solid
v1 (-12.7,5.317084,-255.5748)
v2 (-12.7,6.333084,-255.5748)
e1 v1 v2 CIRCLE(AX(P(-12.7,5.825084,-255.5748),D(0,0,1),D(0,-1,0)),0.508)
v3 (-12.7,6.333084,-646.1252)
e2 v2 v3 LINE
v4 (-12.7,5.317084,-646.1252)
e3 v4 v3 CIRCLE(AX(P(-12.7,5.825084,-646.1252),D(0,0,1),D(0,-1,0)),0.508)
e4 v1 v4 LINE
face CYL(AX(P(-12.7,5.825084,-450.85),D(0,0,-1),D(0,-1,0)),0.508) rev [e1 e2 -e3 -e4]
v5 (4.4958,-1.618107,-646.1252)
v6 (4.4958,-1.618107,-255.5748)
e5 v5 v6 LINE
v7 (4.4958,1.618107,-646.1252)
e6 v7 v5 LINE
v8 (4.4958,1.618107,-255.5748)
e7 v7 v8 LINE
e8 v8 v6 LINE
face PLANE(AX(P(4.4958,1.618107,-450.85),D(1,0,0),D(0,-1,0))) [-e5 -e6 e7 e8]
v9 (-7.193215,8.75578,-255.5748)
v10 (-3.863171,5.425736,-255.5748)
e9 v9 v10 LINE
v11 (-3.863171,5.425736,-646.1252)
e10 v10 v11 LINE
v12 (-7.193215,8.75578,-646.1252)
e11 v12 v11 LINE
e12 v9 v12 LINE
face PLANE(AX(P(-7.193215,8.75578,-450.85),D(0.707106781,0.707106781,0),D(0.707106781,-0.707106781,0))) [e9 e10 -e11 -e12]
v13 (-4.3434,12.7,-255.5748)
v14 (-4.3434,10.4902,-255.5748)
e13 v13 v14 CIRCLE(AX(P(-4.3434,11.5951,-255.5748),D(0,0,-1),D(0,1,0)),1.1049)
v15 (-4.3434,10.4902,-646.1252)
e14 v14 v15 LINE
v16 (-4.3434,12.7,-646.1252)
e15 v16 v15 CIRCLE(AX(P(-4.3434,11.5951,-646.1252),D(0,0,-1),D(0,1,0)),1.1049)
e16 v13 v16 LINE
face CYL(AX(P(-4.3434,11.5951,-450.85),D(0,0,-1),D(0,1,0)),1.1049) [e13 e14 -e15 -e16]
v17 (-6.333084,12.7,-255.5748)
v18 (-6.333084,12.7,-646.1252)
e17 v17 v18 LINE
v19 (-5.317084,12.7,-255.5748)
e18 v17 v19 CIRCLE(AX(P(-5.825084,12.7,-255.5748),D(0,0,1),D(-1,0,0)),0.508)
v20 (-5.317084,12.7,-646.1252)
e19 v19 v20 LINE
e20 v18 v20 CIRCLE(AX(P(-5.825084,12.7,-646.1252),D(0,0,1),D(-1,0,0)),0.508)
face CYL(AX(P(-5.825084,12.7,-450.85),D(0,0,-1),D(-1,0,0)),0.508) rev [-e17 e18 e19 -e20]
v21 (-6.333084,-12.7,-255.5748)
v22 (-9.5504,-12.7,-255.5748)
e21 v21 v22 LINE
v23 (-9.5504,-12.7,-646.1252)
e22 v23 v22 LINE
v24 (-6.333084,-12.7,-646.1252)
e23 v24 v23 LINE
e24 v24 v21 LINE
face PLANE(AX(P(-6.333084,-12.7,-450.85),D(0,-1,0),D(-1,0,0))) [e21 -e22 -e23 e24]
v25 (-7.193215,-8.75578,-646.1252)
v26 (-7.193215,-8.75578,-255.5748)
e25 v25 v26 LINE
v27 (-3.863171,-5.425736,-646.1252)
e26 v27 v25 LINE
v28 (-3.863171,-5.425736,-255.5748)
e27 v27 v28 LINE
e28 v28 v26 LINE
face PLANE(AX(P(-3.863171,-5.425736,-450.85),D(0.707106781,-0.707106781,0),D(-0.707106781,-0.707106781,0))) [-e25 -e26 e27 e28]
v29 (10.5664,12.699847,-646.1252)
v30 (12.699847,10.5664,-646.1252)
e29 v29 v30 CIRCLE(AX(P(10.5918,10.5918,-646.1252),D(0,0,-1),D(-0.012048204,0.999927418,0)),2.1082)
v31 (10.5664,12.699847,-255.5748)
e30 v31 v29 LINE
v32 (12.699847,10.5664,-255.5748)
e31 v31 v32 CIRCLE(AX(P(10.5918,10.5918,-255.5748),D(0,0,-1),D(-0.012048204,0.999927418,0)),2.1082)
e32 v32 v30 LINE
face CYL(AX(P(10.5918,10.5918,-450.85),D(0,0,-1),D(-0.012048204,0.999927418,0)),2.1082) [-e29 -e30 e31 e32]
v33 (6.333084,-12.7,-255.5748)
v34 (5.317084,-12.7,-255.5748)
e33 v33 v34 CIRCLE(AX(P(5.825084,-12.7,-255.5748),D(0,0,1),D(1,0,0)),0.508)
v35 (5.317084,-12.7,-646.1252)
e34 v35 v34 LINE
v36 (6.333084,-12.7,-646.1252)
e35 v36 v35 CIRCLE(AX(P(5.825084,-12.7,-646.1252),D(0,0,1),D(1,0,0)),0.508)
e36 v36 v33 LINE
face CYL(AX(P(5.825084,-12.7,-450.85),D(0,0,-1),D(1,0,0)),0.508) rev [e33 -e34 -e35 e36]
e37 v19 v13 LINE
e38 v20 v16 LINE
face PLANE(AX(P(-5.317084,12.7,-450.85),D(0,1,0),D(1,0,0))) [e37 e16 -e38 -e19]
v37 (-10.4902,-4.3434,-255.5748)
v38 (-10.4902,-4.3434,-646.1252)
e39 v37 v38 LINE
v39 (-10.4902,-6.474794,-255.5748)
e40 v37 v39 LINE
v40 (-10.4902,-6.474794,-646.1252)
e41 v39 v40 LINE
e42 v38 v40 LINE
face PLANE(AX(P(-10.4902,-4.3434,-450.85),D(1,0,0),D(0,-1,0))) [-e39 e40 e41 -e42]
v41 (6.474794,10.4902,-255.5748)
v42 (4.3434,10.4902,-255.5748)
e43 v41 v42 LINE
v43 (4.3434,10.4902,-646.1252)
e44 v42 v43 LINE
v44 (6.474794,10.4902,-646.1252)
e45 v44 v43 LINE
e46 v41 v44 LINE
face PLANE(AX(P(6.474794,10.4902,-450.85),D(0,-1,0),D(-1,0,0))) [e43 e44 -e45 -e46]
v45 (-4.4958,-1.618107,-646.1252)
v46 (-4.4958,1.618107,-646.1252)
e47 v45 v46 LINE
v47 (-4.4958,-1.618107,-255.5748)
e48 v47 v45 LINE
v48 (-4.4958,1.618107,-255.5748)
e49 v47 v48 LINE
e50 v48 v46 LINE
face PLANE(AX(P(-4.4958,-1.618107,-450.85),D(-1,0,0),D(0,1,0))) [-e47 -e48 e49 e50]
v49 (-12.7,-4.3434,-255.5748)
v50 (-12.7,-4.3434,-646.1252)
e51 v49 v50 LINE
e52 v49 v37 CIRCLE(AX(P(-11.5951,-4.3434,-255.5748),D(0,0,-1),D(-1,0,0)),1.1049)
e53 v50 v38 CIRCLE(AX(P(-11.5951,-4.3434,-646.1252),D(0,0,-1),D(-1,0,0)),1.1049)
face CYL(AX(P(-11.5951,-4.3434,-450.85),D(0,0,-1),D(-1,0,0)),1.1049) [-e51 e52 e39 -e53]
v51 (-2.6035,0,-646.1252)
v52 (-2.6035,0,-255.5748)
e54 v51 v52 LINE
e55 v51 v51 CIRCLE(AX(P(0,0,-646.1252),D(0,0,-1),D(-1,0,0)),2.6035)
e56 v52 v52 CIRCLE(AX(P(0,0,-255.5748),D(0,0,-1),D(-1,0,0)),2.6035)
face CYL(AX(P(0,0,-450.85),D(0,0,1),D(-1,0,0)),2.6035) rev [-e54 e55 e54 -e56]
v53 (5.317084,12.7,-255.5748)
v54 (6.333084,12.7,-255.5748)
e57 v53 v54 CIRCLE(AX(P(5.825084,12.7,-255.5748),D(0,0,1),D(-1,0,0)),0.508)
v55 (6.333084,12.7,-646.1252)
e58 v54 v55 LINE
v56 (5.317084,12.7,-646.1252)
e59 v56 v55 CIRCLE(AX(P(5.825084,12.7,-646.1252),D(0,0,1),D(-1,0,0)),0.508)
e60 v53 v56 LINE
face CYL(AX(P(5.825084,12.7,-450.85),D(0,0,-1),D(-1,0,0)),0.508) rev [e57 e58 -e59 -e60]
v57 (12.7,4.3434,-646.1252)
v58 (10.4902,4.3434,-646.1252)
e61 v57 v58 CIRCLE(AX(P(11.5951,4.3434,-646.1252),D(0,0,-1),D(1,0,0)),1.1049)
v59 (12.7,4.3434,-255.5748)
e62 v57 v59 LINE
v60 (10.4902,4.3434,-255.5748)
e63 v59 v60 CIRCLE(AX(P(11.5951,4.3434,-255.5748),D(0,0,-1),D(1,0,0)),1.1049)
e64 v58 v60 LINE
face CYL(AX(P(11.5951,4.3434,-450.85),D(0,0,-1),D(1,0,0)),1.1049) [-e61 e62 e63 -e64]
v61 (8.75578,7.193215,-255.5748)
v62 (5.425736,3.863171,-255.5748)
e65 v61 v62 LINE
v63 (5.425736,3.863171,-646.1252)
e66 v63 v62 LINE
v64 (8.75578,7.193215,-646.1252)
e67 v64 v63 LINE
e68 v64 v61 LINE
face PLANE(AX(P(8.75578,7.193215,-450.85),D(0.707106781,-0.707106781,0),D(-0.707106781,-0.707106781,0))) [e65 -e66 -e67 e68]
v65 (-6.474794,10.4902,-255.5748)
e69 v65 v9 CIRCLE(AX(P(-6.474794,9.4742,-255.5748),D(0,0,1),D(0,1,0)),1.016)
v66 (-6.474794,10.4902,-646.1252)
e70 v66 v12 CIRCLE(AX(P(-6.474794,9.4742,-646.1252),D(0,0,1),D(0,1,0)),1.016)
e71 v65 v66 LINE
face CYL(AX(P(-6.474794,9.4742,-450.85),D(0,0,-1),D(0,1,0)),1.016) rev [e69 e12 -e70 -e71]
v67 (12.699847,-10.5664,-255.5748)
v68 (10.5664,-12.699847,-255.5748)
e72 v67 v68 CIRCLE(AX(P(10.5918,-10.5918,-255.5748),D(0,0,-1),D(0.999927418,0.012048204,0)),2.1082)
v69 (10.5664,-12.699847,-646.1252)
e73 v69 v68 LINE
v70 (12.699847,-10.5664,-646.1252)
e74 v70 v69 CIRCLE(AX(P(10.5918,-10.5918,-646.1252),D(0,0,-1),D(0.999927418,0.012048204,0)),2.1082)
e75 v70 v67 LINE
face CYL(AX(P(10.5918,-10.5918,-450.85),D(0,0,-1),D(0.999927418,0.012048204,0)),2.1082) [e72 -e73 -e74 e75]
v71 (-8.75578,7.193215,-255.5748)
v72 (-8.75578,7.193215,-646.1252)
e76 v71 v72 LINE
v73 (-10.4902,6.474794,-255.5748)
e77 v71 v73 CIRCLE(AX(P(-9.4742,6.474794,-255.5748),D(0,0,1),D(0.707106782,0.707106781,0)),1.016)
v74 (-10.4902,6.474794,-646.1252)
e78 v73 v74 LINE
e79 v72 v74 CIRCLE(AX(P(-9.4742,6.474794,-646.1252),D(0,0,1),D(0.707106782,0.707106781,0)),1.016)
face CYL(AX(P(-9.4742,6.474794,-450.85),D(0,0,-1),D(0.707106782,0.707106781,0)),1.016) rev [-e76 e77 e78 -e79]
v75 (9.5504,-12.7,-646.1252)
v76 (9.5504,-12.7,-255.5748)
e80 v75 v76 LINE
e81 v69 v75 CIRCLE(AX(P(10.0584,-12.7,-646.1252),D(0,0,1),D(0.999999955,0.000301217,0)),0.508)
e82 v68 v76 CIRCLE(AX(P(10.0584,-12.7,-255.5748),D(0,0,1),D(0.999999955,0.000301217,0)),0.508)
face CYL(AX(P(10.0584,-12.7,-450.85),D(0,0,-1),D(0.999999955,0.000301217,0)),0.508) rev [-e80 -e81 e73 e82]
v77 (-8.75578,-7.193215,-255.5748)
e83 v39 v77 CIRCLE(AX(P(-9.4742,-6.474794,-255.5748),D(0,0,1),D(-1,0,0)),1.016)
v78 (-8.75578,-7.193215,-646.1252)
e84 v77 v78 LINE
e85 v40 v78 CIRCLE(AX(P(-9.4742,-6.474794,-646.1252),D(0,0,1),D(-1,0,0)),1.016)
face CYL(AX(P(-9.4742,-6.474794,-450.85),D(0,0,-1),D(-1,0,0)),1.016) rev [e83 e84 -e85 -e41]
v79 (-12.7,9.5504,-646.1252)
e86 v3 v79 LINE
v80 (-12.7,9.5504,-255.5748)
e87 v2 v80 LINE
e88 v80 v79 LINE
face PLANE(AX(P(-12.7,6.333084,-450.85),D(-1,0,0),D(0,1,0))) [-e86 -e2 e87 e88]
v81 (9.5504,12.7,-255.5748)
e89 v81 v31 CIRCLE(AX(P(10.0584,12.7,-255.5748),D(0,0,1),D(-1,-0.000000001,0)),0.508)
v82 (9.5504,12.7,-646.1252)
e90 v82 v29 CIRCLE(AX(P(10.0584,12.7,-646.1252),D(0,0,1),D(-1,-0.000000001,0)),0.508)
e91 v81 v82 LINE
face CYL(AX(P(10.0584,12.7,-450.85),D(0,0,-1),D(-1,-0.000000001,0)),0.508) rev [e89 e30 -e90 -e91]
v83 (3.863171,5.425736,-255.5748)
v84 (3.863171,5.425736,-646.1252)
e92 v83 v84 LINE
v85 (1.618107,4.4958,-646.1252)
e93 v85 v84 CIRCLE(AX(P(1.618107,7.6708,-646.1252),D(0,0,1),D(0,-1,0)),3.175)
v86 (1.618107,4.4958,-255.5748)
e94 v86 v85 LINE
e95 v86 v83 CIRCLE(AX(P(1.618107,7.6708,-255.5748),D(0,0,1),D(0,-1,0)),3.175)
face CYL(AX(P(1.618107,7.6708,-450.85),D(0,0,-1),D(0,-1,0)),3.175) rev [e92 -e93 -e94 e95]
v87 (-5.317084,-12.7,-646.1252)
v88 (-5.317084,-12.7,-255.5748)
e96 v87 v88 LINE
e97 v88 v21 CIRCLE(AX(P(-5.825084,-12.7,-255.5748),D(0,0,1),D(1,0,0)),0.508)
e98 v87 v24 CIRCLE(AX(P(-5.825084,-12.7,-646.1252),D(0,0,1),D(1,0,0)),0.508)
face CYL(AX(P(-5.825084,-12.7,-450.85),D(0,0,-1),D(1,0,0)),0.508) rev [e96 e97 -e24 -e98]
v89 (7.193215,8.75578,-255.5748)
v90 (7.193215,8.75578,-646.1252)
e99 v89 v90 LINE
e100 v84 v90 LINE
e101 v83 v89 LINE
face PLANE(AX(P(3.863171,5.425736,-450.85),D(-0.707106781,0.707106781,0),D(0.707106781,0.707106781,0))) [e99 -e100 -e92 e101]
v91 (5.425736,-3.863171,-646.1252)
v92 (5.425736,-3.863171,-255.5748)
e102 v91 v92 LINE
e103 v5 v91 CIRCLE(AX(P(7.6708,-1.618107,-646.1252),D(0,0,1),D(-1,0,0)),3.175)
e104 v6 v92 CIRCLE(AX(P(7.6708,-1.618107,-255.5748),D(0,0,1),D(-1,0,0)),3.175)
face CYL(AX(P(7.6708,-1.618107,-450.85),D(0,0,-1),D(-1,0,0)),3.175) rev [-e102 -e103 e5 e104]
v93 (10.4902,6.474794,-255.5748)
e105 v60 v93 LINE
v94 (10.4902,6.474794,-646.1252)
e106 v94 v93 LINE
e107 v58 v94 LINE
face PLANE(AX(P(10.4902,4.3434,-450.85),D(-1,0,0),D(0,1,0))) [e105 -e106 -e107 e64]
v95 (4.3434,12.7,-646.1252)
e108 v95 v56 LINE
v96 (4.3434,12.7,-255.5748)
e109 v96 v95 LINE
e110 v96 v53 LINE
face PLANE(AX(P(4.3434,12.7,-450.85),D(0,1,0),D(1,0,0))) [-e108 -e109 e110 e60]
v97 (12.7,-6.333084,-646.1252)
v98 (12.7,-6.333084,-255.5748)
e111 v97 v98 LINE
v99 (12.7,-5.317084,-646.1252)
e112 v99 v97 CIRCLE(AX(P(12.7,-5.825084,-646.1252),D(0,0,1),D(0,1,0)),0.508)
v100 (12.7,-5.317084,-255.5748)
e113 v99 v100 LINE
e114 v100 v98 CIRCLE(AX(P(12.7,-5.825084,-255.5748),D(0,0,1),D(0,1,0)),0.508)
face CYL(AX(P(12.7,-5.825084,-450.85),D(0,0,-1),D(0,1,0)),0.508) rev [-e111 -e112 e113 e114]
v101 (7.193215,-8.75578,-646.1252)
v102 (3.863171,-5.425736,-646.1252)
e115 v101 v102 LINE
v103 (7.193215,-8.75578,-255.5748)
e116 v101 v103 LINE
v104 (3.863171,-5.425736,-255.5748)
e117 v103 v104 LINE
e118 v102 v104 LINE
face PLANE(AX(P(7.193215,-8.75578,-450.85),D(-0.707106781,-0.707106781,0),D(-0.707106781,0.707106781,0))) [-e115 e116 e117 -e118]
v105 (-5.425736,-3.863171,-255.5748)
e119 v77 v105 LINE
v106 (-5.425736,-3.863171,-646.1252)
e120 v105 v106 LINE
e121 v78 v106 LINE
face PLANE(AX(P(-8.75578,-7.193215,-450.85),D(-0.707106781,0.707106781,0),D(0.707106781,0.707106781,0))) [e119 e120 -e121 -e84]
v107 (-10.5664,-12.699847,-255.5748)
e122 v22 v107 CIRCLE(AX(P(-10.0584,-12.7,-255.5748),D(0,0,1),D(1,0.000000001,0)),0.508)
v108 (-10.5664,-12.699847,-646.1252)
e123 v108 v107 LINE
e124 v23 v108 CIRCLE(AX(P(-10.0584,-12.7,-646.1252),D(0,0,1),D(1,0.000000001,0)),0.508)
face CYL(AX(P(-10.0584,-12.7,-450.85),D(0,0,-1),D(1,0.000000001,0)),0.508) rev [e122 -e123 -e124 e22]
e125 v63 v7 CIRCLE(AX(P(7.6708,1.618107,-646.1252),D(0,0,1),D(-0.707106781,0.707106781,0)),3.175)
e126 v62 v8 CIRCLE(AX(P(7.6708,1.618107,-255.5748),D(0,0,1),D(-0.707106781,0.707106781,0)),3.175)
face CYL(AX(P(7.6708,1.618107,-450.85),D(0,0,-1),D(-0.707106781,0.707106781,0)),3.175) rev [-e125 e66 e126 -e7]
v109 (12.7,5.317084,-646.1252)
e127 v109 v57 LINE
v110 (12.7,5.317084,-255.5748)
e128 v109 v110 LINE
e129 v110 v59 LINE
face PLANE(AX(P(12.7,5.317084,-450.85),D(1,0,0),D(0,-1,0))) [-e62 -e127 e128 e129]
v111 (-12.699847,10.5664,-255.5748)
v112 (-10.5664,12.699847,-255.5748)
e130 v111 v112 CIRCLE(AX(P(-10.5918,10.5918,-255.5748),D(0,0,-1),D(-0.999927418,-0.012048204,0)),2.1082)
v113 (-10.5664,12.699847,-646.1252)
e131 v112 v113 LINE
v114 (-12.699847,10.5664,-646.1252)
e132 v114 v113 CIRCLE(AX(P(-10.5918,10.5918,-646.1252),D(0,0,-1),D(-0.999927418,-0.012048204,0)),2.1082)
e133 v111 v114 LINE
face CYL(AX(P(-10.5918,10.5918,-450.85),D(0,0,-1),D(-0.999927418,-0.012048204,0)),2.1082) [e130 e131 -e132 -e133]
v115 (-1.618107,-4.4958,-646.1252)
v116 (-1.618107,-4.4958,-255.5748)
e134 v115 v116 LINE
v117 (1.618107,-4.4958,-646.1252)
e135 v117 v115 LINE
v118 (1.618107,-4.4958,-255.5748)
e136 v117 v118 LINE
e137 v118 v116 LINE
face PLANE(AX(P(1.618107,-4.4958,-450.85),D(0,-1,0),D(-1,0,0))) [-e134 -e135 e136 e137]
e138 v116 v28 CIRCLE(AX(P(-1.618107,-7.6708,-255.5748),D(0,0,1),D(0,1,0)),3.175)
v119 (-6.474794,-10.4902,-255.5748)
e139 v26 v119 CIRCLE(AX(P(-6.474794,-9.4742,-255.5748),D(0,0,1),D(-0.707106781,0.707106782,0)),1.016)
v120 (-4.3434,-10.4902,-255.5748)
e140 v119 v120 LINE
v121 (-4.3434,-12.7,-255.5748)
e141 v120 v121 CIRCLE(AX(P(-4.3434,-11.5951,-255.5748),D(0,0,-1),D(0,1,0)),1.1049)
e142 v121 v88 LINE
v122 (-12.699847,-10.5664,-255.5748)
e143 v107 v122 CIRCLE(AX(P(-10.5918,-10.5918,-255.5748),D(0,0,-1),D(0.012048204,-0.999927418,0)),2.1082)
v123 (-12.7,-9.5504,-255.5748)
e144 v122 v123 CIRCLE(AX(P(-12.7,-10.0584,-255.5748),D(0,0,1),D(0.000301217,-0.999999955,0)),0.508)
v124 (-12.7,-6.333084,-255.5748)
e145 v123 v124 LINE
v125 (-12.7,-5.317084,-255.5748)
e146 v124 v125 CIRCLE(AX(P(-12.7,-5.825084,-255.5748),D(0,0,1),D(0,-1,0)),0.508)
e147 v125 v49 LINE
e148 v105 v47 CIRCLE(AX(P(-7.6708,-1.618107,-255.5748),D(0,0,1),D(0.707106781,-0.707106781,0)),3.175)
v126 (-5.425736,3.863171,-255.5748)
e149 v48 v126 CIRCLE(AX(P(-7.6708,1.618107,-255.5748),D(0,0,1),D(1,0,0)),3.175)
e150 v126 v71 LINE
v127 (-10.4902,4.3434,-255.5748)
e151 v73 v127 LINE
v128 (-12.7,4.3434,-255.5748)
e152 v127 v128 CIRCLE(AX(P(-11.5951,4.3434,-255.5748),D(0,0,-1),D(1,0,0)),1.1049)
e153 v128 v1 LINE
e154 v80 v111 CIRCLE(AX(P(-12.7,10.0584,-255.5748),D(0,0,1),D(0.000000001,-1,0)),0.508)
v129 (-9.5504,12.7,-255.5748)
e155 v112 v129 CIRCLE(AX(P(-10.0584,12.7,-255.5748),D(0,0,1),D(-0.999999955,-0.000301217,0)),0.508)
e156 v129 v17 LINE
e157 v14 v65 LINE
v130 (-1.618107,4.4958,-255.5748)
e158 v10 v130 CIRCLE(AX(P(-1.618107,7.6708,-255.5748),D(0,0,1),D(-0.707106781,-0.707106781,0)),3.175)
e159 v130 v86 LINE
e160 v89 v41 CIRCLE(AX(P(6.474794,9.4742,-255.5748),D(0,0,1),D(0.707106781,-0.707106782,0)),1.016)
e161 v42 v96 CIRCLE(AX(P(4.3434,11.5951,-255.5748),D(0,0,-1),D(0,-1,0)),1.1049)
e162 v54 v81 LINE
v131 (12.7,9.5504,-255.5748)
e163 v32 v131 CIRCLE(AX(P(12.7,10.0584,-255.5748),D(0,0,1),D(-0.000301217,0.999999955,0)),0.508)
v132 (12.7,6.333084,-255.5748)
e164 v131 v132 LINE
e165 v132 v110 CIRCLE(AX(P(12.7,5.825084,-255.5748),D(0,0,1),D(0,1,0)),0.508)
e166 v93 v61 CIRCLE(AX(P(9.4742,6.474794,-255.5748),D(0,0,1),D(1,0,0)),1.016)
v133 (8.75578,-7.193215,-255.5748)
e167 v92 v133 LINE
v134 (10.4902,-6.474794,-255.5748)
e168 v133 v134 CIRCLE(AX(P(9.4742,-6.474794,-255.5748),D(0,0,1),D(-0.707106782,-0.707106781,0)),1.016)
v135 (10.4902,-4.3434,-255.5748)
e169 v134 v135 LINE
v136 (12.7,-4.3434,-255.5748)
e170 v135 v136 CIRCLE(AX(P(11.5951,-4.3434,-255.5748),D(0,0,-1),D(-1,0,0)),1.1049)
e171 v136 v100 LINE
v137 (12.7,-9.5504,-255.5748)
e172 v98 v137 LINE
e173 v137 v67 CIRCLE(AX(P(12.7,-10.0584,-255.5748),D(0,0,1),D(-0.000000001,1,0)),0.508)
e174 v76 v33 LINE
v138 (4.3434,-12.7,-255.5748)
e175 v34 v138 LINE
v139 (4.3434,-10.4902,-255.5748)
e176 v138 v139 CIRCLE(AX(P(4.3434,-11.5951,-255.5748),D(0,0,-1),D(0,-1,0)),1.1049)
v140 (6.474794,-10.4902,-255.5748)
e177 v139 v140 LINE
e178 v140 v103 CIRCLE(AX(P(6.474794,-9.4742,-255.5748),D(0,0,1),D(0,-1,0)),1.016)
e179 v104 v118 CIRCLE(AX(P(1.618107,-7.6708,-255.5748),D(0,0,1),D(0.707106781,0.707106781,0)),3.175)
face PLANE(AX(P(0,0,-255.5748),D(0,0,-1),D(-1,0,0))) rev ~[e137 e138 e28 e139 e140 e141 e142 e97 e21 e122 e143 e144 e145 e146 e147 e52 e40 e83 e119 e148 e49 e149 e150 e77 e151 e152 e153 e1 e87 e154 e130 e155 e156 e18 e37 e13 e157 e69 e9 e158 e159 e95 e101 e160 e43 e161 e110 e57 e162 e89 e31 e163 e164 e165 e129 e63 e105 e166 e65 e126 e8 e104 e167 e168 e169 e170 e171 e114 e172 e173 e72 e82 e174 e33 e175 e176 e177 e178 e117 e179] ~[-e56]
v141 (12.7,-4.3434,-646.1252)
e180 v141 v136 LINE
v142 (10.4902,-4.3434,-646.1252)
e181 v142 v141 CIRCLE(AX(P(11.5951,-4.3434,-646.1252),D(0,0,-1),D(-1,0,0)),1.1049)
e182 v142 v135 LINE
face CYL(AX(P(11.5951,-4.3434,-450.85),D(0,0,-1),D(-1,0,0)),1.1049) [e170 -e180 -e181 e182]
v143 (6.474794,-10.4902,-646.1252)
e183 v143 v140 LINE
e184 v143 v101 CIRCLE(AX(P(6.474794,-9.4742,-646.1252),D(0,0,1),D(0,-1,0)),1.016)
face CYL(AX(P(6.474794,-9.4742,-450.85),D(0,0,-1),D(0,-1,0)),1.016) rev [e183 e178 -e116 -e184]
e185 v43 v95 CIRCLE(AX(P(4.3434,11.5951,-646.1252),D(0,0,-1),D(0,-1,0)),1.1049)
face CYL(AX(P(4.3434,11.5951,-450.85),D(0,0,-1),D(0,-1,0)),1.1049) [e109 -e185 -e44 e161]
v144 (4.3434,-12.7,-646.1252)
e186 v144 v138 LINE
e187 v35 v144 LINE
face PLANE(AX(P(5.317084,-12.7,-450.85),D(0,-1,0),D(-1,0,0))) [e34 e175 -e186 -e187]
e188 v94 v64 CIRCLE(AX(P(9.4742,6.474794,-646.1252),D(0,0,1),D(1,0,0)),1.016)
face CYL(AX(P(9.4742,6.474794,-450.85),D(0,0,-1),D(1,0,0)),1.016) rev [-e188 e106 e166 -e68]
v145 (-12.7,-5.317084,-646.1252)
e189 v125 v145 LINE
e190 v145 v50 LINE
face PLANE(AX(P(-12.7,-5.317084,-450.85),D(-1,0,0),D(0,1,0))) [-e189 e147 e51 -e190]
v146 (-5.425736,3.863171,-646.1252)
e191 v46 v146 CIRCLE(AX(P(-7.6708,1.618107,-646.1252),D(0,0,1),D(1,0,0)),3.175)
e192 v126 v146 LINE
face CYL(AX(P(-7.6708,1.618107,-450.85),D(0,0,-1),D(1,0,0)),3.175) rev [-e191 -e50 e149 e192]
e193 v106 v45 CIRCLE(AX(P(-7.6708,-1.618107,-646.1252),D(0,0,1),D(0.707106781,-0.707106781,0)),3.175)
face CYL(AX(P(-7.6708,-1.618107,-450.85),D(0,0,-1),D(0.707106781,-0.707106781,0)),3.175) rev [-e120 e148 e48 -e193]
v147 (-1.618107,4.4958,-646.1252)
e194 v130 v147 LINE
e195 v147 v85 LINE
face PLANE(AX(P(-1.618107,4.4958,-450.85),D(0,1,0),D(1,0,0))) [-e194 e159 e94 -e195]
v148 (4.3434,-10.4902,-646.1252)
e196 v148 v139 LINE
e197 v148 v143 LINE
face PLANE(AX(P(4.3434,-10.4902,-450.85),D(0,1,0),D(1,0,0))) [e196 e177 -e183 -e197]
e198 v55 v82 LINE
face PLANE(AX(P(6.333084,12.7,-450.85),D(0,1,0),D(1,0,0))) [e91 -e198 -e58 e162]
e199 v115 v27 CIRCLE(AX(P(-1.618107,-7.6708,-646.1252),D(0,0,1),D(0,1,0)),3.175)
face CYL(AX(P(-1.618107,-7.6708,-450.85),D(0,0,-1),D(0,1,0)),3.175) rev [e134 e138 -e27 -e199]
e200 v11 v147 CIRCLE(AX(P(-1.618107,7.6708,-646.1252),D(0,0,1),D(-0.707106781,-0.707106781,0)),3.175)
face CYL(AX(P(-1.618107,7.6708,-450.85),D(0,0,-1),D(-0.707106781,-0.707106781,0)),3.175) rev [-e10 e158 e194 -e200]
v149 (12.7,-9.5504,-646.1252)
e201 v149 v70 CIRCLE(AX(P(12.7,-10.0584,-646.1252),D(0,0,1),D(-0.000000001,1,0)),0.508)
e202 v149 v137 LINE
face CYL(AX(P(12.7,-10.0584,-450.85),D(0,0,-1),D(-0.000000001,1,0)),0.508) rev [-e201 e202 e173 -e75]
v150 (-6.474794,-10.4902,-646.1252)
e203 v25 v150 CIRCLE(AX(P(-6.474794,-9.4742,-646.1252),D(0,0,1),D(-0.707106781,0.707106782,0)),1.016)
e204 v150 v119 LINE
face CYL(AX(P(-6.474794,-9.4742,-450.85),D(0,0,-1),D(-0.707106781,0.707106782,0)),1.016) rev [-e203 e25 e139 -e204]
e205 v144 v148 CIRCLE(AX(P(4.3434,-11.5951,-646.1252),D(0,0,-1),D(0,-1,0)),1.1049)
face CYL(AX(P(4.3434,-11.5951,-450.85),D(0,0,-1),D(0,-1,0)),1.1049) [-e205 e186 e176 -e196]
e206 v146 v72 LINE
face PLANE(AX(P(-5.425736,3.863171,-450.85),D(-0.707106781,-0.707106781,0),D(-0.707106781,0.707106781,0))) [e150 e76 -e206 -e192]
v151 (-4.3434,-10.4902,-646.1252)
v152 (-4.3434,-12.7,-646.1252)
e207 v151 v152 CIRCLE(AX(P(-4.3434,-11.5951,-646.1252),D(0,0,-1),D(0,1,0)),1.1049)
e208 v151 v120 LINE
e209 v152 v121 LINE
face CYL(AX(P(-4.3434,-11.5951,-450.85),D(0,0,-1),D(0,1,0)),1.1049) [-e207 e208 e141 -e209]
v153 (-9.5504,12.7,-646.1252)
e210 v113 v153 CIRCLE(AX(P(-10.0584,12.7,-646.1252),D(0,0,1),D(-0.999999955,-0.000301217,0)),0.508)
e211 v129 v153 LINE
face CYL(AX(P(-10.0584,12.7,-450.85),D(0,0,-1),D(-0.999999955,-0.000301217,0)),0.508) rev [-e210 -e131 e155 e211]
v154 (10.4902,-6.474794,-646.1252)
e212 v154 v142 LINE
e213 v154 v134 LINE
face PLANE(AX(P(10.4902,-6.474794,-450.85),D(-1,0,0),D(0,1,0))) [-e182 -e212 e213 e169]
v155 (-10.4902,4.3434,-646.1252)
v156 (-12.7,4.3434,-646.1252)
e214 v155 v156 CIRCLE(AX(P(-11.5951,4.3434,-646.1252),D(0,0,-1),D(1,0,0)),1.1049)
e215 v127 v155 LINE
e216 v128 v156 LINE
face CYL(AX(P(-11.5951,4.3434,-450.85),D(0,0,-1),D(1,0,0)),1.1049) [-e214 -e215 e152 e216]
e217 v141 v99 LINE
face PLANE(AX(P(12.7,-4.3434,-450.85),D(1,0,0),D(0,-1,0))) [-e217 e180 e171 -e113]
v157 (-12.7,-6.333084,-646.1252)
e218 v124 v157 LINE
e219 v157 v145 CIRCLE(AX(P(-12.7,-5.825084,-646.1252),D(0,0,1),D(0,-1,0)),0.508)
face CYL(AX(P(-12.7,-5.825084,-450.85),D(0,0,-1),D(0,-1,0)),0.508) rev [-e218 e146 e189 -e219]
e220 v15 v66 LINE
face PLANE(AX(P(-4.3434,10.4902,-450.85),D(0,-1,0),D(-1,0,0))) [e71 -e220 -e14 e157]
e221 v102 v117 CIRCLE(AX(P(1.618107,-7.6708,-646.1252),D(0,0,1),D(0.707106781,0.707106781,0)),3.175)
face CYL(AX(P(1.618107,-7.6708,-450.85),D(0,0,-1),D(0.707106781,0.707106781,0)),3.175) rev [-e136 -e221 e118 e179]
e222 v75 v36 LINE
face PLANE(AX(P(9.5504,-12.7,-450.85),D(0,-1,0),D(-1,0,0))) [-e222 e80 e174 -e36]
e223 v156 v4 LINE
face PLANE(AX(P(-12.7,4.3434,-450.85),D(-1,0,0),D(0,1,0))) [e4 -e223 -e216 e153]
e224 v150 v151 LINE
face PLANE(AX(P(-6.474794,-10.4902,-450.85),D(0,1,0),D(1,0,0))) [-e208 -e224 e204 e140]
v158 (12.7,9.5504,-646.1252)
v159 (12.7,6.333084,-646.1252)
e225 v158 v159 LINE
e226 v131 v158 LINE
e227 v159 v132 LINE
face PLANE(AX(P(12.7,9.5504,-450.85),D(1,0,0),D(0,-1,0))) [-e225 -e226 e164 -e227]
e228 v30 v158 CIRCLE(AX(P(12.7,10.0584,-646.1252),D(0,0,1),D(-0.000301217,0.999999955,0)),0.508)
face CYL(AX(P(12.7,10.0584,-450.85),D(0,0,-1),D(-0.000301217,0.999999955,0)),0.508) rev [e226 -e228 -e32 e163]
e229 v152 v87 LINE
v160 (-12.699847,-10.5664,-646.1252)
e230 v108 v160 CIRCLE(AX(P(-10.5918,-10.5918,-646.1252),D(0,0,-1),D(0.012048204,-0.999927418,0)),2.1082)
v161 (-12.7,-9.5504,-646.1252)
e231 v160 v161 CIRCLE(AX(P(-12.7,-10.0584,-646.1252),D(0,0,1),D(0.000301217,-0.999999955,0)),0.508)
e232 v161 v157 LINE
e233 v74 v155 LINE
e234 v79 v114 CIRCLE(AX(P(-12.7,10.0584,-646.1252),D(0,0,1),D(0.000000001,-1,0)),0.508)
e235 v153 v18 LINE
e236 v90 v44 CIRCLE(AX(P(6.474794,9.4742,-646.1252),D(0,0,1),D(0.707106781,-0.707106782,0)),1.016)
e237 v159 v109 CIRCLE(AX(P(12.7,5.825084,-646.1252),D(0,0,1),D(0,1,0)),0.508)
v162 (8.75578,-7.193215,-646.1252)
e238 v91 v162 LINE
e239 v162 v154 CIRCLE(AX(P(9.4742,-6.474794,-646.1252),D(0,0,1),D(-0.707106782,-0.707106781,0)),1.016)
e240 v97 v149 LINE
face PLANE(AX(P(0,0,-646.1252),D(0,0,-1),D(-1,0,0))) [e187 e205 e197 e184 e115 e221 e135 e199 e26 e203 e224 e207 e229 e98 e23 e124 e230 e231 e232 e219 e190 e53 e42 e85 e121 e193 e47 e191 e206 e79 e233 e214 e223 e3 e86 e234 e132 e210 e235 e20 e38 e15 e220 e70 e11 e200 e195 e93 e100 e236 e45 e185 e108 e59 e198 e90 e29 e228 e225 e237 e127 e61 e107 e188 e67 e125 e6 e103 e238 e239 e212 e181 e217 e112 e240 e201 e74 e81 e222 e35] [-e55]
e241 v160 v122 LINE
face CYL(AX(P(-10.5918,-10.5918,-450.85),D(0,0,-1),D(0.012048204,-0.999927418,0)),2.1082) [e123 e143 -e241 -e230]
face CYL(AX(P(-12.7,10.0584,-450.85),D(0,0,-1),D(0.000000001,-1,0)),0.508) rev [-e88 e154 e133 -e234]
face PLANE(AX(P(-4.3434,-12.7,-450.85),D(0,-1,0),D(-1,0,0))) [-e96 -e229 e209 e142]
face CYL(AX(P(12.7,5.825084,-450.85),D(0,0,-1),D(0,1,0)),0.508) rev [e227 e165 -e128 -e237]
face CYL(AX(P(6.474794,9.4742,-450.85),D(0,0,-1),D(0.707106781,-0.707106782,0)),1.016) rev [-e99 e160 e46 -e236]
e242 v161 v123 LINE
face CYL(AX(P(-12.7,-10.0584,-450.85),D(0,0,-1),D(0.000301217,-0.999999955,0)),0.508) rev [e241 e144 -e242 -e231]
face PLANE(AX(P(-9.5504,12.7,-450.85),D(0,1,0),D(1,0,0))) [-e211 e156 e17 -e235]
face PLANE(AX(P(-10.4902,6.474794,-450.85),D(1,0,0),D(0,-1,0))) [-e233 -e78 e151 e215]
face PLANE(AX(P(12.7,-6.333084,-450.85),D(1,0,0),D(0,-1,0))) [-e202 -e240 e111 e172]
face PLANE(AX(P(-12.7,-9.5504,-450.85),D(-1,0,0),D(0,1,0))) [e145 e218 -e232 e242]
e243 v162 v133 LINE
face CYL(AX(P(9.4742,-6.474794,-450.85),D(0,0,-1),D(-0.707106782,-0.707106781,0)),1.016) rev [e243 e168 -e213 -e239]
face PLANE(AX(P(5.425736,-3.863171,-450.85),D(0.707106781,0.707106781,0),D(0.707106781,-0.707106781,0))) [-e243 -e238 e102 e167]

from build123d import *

# Parameters (mm, degrees)
SKETCH1_R           = 2.6035
BOSS_EXTRUDE1_DEPTH = 195.2752


with BuildPart() as part:
    # Sketch1 → Boss-Extrude1 (new body, symmetric)
    with BuildSketch(Plane(origin=(0, 0, -450.85), x_dir=(-1, 0, 0), z_dir=(0, 0, -1))):
        with BuildLine():
            Line((12.7, -9.5504), (12.7, -6.3330836))
            ThreePointArc((12.7, -6.3330836), (12.192, -5.8250836), (12.7, -5.3170836))
            Line((12.7, -5.3170836), (12.7, -4.3434))
            ThreePointArc((12.7, -4.3434), (11.5951, -3.2385), (10.4902, -4.3434))
            Line((10.4902, -4.3434), (10.4902, -6.474794456))
            ThreePointArc((10.4902, -6.474794456), (9.863006367, -7.413456061), (8.75577951, -7.193214945))
            Line((8.75577951, -7.193214945), (5.42573597, -3.863171405))
            ThreePointArc((5.42573597, -3.863171405), (4.737482484, -2.833127272), (4.4958, -1.618107374))
            Line((4.4958, -1.618107374), (4.4958, 1.618107374))
            ThreePointArc((4.4958, 1.618107374), (4.737482484, 2.833127272), (5.42573597, 3.863171405))
            Line((5.42573597, 3.863171405), (8.75577951, 7.193214945))
            ThreePointArc((8.75577951, 7.193214945), (9.863006367, 7.413456061), (10.4902, 6.474794456))
            Line((10.4902, 6.474794456), (10.4902, 4.343399971))
            ThreePointArc((10.4902, 4.343399971), (11.5951, 3.238499971), (12.7, 4.343399971))
            Line((12.7, 4.343399971), (12.7, 5.3170836))
            ThreePointArc((12.7, 5.3170836), (12.192, 5.8250836), (12.7, 6.3330836))
            Line((12.7, 6.3330836), (12.7, 9.5504))
            ThreePointArc((12.7, 9.5504), (12.192000006, 10.058323491), (12.699846982, 10.566399977))
            ThreePointArc((12.699846982, 10.566399977), (12.082522516, 12.082522516), (10.566399977, 12.699846982))
            ThreePointArc((10.566399977, 12.699846982), (10.058323491, 12.192000006), (9.5504, 12.7))
            Line((9.5504, 12.7), (6.3330836, 12.7))
            ThreePointArc((6.3330836, 12.7), (5.8250836, 12.192), (5.3170836, 12.7))
            Line((5.3170836, 12.7), (4.3434, 12.7))
            ThreePointArc((4.3434, 12.7), (3.2385, 11.5951), (4.3434, 10.4902))
            Line((4.3434, 10.4902), (6.474794456, 10.4902))
            ThreePointArc((6.474794456, 10.4902), (7.413456061, 9.863006367), (7.193214945, 8.75577951))
            Line((7.193214945, 8.75577951), (3.863171405, 5.42573597))
            ThreePointArc((3.863171405, 5.42573597), (2.833127272, 4.737482484), (1.618107374, 4.4958))
            Line((1.618107374, 4.4958), (-1.618107374, 4.4958))
            ThreePointArc((-1.618107374, 4.4958), (-2.833127272, 4.737482484), (-3.863171405, 5.42573597))
            Line((-3.863171405, 5.42573597), (-7.193214945, 8.75577951))
            ThreePointArc((-7.193214945, 8.75577951), (-7.413456061, 9.863006367), (-6.474794456, 10.4902))
            Line((-6.474794456, 10.4902), (-4.343399971, 10.4902))
            ThreePointArc((-4.343399971, 10.4902), (-3.238499971, 11.5951), (-4.343399971, 12.7))
            Line((-4.343399971, 12.7), (-5.3170836, 12.7))
            ThreePointArc((-5.3170836, 12.7), (-5.8250836, 12.192), (-6.3330836, 12.7))
            Line((-6.3330836, 12.7), (-9.5504, 12.7))
            ThreePointArc((-9.5504, 12.7), (-10.058323491, 12.192000006), (-10.566399977, 12.699846982))
            ThreePointArc((-10.566399977, 12.699846982), (-12.082522516, 12.082522516), (-12.699846982, 10.566399977))
            ThreePointArc((-12.699846982, 10.566399977), (-12.192000006, 10.058323491), (-12.7, 9.5504))
            Line((-12.7, 9.5504), (-12.7, 6.3330836))
            ThreePointArc((-12.7, 6.3330836), (-12.192, 5.8250836), (-12.7, 5.3170836))
            Line((-12.7, 5.3170836), (-12.7, 4.3434))
            ThreePointArc((-12.7, 4.3434), (-11.5951, 3.2385), (-10.4902, 4.3434))
            Line((-10.4902, 4.3434), (-10.4902, 6.474794456))
            ThreePointArc((-10.4902, 6.474794456), (-9.863006367, 7.413456061), (-8.75577951, 7.193214945))
            Line((-8.75577951, 7.193214945), (-5.42573597, 3.863171405))
            ThreePointArc((-5.42573597, 3.863171405), (-4.737482484, 2.833127272), (-4.4958, 1.618107374))
            Line((-4.4958, 1.618107374), (-4.4958, -1.618107374))
            ThreePointArc((-4.4958, -1.618107374), (-4.737482484, -2.833127272), (-5.42573597, -3.863171405))
            Line((-5.42573597, -3.863171405), (-8.75577951, -7.193214945))
            ThreePointArc((-8.75577951, -7.193214945), (-9.863006367, -7.413456061), (-10.4902, -6.474794456))
            Line((-10.4902, -6.474794456), (-10.4902, -4.343399971))
            ThreePointArc((-10.4902, -4.343399971), (-11.5951, -3.238499971), (-12.7, -4.343399971))
            Line((-12.7, -4.343399971), (-12.7, -5.3170836))
            ThreePointArc((-12.7, -5.3170836), (-12.192, -5.8250836), (-12.7, -6.3330836))
            Line((-12.7, -6.3330836), (-12.7, -9.5504))
            ThreePointArc((-12.7, -9.5504), (-12.192000006, -10.058323491), (-12.699846982, -10.566399977))
            ThreePointArc((-12.699846982, -10.566399977), (-12.082522516, -12.082522516), (-10.566399977, -12.699846982))
            ThreePointArc((-10.566399977, -12.699846982), (-10.058323491, -12.192000006), (-9.5504, -12.7))
            Line((-9.5504, -12.7), (-6.3330836, -12.7))
            ThreePointArc((-6.3330836, -12.7), (-5.8250836, -12.192), (-5.3170836, -12.7))
            Line((-5.3170836, -12.7), (-4.3434, -12.7))
            ThreePointArc((-4.3434, -12.7), (-3.2385, -11.5951), (-4.3434, -10.4902))
            Line((-4.3434, -10.4902), (-6.474794456, -10.4902))
            ThreePointArc((-6.474794456, -10.4902), (-7.413456061, -9.863006367), (-7.193214945, -8.75577951))
            Line((-7.193214945, -8.75577951), (-3.863171405, -5.42573597))
            ThreePointArc((-3.863171405, -5.42573597), (-2.833127272, -4.737482484), (-1.618107374, -4.4958))
            Line((-1.618107374, -4.4958), (1.618107374, -4.4958))
            ThreePointArc((1.618107374, -4.4958), (2.833127272, -4.737482484), (3.863171405, -5.42573597))
            Line((3.863171405, -5.42573597), (7.193214945, -8.75577951))
            ThreePointArc((7.193214945, -8.75577951), (7.413456061, -9.863006367), (6.474794456, -10.4902))
            Line((6.474794456, -10.4902), (4.343399971, -10.4902))
            ThreePointArc((4.343399971, -10.4902), (3.238499971, -11.5951), (4.343399971, -12.7))
            Line((4.343399971, -12.7), (5.3170836, -12.7))
            ThreePointArc((5.3170836, -12.7), (5.8250836, -12.192), (6.3330836, -12.7))
            Line((6.3330836, -12.7), (9.5504, -12.7))
            ThreePointArc((9.5504, -12.7), (10.058323491, -12.192000006), (10.566399977, -12.699846982))
            ThreePointArc((10.566399977, -12.699846982), (12.082522516, -12.082522516), (12.699846982, -10.566399977))
            ThreePointArc((12.699846982, -10.566399977), (12.192000006, -10.058323491), (12.7, -9.5504))
        make_face()
        Circle(SKETCH1_R, mode=Mode.SUBTRACT)
    extrude(amount=BOSS_EXTRUDE1_DEPTH, both=True)


solid = part.part
